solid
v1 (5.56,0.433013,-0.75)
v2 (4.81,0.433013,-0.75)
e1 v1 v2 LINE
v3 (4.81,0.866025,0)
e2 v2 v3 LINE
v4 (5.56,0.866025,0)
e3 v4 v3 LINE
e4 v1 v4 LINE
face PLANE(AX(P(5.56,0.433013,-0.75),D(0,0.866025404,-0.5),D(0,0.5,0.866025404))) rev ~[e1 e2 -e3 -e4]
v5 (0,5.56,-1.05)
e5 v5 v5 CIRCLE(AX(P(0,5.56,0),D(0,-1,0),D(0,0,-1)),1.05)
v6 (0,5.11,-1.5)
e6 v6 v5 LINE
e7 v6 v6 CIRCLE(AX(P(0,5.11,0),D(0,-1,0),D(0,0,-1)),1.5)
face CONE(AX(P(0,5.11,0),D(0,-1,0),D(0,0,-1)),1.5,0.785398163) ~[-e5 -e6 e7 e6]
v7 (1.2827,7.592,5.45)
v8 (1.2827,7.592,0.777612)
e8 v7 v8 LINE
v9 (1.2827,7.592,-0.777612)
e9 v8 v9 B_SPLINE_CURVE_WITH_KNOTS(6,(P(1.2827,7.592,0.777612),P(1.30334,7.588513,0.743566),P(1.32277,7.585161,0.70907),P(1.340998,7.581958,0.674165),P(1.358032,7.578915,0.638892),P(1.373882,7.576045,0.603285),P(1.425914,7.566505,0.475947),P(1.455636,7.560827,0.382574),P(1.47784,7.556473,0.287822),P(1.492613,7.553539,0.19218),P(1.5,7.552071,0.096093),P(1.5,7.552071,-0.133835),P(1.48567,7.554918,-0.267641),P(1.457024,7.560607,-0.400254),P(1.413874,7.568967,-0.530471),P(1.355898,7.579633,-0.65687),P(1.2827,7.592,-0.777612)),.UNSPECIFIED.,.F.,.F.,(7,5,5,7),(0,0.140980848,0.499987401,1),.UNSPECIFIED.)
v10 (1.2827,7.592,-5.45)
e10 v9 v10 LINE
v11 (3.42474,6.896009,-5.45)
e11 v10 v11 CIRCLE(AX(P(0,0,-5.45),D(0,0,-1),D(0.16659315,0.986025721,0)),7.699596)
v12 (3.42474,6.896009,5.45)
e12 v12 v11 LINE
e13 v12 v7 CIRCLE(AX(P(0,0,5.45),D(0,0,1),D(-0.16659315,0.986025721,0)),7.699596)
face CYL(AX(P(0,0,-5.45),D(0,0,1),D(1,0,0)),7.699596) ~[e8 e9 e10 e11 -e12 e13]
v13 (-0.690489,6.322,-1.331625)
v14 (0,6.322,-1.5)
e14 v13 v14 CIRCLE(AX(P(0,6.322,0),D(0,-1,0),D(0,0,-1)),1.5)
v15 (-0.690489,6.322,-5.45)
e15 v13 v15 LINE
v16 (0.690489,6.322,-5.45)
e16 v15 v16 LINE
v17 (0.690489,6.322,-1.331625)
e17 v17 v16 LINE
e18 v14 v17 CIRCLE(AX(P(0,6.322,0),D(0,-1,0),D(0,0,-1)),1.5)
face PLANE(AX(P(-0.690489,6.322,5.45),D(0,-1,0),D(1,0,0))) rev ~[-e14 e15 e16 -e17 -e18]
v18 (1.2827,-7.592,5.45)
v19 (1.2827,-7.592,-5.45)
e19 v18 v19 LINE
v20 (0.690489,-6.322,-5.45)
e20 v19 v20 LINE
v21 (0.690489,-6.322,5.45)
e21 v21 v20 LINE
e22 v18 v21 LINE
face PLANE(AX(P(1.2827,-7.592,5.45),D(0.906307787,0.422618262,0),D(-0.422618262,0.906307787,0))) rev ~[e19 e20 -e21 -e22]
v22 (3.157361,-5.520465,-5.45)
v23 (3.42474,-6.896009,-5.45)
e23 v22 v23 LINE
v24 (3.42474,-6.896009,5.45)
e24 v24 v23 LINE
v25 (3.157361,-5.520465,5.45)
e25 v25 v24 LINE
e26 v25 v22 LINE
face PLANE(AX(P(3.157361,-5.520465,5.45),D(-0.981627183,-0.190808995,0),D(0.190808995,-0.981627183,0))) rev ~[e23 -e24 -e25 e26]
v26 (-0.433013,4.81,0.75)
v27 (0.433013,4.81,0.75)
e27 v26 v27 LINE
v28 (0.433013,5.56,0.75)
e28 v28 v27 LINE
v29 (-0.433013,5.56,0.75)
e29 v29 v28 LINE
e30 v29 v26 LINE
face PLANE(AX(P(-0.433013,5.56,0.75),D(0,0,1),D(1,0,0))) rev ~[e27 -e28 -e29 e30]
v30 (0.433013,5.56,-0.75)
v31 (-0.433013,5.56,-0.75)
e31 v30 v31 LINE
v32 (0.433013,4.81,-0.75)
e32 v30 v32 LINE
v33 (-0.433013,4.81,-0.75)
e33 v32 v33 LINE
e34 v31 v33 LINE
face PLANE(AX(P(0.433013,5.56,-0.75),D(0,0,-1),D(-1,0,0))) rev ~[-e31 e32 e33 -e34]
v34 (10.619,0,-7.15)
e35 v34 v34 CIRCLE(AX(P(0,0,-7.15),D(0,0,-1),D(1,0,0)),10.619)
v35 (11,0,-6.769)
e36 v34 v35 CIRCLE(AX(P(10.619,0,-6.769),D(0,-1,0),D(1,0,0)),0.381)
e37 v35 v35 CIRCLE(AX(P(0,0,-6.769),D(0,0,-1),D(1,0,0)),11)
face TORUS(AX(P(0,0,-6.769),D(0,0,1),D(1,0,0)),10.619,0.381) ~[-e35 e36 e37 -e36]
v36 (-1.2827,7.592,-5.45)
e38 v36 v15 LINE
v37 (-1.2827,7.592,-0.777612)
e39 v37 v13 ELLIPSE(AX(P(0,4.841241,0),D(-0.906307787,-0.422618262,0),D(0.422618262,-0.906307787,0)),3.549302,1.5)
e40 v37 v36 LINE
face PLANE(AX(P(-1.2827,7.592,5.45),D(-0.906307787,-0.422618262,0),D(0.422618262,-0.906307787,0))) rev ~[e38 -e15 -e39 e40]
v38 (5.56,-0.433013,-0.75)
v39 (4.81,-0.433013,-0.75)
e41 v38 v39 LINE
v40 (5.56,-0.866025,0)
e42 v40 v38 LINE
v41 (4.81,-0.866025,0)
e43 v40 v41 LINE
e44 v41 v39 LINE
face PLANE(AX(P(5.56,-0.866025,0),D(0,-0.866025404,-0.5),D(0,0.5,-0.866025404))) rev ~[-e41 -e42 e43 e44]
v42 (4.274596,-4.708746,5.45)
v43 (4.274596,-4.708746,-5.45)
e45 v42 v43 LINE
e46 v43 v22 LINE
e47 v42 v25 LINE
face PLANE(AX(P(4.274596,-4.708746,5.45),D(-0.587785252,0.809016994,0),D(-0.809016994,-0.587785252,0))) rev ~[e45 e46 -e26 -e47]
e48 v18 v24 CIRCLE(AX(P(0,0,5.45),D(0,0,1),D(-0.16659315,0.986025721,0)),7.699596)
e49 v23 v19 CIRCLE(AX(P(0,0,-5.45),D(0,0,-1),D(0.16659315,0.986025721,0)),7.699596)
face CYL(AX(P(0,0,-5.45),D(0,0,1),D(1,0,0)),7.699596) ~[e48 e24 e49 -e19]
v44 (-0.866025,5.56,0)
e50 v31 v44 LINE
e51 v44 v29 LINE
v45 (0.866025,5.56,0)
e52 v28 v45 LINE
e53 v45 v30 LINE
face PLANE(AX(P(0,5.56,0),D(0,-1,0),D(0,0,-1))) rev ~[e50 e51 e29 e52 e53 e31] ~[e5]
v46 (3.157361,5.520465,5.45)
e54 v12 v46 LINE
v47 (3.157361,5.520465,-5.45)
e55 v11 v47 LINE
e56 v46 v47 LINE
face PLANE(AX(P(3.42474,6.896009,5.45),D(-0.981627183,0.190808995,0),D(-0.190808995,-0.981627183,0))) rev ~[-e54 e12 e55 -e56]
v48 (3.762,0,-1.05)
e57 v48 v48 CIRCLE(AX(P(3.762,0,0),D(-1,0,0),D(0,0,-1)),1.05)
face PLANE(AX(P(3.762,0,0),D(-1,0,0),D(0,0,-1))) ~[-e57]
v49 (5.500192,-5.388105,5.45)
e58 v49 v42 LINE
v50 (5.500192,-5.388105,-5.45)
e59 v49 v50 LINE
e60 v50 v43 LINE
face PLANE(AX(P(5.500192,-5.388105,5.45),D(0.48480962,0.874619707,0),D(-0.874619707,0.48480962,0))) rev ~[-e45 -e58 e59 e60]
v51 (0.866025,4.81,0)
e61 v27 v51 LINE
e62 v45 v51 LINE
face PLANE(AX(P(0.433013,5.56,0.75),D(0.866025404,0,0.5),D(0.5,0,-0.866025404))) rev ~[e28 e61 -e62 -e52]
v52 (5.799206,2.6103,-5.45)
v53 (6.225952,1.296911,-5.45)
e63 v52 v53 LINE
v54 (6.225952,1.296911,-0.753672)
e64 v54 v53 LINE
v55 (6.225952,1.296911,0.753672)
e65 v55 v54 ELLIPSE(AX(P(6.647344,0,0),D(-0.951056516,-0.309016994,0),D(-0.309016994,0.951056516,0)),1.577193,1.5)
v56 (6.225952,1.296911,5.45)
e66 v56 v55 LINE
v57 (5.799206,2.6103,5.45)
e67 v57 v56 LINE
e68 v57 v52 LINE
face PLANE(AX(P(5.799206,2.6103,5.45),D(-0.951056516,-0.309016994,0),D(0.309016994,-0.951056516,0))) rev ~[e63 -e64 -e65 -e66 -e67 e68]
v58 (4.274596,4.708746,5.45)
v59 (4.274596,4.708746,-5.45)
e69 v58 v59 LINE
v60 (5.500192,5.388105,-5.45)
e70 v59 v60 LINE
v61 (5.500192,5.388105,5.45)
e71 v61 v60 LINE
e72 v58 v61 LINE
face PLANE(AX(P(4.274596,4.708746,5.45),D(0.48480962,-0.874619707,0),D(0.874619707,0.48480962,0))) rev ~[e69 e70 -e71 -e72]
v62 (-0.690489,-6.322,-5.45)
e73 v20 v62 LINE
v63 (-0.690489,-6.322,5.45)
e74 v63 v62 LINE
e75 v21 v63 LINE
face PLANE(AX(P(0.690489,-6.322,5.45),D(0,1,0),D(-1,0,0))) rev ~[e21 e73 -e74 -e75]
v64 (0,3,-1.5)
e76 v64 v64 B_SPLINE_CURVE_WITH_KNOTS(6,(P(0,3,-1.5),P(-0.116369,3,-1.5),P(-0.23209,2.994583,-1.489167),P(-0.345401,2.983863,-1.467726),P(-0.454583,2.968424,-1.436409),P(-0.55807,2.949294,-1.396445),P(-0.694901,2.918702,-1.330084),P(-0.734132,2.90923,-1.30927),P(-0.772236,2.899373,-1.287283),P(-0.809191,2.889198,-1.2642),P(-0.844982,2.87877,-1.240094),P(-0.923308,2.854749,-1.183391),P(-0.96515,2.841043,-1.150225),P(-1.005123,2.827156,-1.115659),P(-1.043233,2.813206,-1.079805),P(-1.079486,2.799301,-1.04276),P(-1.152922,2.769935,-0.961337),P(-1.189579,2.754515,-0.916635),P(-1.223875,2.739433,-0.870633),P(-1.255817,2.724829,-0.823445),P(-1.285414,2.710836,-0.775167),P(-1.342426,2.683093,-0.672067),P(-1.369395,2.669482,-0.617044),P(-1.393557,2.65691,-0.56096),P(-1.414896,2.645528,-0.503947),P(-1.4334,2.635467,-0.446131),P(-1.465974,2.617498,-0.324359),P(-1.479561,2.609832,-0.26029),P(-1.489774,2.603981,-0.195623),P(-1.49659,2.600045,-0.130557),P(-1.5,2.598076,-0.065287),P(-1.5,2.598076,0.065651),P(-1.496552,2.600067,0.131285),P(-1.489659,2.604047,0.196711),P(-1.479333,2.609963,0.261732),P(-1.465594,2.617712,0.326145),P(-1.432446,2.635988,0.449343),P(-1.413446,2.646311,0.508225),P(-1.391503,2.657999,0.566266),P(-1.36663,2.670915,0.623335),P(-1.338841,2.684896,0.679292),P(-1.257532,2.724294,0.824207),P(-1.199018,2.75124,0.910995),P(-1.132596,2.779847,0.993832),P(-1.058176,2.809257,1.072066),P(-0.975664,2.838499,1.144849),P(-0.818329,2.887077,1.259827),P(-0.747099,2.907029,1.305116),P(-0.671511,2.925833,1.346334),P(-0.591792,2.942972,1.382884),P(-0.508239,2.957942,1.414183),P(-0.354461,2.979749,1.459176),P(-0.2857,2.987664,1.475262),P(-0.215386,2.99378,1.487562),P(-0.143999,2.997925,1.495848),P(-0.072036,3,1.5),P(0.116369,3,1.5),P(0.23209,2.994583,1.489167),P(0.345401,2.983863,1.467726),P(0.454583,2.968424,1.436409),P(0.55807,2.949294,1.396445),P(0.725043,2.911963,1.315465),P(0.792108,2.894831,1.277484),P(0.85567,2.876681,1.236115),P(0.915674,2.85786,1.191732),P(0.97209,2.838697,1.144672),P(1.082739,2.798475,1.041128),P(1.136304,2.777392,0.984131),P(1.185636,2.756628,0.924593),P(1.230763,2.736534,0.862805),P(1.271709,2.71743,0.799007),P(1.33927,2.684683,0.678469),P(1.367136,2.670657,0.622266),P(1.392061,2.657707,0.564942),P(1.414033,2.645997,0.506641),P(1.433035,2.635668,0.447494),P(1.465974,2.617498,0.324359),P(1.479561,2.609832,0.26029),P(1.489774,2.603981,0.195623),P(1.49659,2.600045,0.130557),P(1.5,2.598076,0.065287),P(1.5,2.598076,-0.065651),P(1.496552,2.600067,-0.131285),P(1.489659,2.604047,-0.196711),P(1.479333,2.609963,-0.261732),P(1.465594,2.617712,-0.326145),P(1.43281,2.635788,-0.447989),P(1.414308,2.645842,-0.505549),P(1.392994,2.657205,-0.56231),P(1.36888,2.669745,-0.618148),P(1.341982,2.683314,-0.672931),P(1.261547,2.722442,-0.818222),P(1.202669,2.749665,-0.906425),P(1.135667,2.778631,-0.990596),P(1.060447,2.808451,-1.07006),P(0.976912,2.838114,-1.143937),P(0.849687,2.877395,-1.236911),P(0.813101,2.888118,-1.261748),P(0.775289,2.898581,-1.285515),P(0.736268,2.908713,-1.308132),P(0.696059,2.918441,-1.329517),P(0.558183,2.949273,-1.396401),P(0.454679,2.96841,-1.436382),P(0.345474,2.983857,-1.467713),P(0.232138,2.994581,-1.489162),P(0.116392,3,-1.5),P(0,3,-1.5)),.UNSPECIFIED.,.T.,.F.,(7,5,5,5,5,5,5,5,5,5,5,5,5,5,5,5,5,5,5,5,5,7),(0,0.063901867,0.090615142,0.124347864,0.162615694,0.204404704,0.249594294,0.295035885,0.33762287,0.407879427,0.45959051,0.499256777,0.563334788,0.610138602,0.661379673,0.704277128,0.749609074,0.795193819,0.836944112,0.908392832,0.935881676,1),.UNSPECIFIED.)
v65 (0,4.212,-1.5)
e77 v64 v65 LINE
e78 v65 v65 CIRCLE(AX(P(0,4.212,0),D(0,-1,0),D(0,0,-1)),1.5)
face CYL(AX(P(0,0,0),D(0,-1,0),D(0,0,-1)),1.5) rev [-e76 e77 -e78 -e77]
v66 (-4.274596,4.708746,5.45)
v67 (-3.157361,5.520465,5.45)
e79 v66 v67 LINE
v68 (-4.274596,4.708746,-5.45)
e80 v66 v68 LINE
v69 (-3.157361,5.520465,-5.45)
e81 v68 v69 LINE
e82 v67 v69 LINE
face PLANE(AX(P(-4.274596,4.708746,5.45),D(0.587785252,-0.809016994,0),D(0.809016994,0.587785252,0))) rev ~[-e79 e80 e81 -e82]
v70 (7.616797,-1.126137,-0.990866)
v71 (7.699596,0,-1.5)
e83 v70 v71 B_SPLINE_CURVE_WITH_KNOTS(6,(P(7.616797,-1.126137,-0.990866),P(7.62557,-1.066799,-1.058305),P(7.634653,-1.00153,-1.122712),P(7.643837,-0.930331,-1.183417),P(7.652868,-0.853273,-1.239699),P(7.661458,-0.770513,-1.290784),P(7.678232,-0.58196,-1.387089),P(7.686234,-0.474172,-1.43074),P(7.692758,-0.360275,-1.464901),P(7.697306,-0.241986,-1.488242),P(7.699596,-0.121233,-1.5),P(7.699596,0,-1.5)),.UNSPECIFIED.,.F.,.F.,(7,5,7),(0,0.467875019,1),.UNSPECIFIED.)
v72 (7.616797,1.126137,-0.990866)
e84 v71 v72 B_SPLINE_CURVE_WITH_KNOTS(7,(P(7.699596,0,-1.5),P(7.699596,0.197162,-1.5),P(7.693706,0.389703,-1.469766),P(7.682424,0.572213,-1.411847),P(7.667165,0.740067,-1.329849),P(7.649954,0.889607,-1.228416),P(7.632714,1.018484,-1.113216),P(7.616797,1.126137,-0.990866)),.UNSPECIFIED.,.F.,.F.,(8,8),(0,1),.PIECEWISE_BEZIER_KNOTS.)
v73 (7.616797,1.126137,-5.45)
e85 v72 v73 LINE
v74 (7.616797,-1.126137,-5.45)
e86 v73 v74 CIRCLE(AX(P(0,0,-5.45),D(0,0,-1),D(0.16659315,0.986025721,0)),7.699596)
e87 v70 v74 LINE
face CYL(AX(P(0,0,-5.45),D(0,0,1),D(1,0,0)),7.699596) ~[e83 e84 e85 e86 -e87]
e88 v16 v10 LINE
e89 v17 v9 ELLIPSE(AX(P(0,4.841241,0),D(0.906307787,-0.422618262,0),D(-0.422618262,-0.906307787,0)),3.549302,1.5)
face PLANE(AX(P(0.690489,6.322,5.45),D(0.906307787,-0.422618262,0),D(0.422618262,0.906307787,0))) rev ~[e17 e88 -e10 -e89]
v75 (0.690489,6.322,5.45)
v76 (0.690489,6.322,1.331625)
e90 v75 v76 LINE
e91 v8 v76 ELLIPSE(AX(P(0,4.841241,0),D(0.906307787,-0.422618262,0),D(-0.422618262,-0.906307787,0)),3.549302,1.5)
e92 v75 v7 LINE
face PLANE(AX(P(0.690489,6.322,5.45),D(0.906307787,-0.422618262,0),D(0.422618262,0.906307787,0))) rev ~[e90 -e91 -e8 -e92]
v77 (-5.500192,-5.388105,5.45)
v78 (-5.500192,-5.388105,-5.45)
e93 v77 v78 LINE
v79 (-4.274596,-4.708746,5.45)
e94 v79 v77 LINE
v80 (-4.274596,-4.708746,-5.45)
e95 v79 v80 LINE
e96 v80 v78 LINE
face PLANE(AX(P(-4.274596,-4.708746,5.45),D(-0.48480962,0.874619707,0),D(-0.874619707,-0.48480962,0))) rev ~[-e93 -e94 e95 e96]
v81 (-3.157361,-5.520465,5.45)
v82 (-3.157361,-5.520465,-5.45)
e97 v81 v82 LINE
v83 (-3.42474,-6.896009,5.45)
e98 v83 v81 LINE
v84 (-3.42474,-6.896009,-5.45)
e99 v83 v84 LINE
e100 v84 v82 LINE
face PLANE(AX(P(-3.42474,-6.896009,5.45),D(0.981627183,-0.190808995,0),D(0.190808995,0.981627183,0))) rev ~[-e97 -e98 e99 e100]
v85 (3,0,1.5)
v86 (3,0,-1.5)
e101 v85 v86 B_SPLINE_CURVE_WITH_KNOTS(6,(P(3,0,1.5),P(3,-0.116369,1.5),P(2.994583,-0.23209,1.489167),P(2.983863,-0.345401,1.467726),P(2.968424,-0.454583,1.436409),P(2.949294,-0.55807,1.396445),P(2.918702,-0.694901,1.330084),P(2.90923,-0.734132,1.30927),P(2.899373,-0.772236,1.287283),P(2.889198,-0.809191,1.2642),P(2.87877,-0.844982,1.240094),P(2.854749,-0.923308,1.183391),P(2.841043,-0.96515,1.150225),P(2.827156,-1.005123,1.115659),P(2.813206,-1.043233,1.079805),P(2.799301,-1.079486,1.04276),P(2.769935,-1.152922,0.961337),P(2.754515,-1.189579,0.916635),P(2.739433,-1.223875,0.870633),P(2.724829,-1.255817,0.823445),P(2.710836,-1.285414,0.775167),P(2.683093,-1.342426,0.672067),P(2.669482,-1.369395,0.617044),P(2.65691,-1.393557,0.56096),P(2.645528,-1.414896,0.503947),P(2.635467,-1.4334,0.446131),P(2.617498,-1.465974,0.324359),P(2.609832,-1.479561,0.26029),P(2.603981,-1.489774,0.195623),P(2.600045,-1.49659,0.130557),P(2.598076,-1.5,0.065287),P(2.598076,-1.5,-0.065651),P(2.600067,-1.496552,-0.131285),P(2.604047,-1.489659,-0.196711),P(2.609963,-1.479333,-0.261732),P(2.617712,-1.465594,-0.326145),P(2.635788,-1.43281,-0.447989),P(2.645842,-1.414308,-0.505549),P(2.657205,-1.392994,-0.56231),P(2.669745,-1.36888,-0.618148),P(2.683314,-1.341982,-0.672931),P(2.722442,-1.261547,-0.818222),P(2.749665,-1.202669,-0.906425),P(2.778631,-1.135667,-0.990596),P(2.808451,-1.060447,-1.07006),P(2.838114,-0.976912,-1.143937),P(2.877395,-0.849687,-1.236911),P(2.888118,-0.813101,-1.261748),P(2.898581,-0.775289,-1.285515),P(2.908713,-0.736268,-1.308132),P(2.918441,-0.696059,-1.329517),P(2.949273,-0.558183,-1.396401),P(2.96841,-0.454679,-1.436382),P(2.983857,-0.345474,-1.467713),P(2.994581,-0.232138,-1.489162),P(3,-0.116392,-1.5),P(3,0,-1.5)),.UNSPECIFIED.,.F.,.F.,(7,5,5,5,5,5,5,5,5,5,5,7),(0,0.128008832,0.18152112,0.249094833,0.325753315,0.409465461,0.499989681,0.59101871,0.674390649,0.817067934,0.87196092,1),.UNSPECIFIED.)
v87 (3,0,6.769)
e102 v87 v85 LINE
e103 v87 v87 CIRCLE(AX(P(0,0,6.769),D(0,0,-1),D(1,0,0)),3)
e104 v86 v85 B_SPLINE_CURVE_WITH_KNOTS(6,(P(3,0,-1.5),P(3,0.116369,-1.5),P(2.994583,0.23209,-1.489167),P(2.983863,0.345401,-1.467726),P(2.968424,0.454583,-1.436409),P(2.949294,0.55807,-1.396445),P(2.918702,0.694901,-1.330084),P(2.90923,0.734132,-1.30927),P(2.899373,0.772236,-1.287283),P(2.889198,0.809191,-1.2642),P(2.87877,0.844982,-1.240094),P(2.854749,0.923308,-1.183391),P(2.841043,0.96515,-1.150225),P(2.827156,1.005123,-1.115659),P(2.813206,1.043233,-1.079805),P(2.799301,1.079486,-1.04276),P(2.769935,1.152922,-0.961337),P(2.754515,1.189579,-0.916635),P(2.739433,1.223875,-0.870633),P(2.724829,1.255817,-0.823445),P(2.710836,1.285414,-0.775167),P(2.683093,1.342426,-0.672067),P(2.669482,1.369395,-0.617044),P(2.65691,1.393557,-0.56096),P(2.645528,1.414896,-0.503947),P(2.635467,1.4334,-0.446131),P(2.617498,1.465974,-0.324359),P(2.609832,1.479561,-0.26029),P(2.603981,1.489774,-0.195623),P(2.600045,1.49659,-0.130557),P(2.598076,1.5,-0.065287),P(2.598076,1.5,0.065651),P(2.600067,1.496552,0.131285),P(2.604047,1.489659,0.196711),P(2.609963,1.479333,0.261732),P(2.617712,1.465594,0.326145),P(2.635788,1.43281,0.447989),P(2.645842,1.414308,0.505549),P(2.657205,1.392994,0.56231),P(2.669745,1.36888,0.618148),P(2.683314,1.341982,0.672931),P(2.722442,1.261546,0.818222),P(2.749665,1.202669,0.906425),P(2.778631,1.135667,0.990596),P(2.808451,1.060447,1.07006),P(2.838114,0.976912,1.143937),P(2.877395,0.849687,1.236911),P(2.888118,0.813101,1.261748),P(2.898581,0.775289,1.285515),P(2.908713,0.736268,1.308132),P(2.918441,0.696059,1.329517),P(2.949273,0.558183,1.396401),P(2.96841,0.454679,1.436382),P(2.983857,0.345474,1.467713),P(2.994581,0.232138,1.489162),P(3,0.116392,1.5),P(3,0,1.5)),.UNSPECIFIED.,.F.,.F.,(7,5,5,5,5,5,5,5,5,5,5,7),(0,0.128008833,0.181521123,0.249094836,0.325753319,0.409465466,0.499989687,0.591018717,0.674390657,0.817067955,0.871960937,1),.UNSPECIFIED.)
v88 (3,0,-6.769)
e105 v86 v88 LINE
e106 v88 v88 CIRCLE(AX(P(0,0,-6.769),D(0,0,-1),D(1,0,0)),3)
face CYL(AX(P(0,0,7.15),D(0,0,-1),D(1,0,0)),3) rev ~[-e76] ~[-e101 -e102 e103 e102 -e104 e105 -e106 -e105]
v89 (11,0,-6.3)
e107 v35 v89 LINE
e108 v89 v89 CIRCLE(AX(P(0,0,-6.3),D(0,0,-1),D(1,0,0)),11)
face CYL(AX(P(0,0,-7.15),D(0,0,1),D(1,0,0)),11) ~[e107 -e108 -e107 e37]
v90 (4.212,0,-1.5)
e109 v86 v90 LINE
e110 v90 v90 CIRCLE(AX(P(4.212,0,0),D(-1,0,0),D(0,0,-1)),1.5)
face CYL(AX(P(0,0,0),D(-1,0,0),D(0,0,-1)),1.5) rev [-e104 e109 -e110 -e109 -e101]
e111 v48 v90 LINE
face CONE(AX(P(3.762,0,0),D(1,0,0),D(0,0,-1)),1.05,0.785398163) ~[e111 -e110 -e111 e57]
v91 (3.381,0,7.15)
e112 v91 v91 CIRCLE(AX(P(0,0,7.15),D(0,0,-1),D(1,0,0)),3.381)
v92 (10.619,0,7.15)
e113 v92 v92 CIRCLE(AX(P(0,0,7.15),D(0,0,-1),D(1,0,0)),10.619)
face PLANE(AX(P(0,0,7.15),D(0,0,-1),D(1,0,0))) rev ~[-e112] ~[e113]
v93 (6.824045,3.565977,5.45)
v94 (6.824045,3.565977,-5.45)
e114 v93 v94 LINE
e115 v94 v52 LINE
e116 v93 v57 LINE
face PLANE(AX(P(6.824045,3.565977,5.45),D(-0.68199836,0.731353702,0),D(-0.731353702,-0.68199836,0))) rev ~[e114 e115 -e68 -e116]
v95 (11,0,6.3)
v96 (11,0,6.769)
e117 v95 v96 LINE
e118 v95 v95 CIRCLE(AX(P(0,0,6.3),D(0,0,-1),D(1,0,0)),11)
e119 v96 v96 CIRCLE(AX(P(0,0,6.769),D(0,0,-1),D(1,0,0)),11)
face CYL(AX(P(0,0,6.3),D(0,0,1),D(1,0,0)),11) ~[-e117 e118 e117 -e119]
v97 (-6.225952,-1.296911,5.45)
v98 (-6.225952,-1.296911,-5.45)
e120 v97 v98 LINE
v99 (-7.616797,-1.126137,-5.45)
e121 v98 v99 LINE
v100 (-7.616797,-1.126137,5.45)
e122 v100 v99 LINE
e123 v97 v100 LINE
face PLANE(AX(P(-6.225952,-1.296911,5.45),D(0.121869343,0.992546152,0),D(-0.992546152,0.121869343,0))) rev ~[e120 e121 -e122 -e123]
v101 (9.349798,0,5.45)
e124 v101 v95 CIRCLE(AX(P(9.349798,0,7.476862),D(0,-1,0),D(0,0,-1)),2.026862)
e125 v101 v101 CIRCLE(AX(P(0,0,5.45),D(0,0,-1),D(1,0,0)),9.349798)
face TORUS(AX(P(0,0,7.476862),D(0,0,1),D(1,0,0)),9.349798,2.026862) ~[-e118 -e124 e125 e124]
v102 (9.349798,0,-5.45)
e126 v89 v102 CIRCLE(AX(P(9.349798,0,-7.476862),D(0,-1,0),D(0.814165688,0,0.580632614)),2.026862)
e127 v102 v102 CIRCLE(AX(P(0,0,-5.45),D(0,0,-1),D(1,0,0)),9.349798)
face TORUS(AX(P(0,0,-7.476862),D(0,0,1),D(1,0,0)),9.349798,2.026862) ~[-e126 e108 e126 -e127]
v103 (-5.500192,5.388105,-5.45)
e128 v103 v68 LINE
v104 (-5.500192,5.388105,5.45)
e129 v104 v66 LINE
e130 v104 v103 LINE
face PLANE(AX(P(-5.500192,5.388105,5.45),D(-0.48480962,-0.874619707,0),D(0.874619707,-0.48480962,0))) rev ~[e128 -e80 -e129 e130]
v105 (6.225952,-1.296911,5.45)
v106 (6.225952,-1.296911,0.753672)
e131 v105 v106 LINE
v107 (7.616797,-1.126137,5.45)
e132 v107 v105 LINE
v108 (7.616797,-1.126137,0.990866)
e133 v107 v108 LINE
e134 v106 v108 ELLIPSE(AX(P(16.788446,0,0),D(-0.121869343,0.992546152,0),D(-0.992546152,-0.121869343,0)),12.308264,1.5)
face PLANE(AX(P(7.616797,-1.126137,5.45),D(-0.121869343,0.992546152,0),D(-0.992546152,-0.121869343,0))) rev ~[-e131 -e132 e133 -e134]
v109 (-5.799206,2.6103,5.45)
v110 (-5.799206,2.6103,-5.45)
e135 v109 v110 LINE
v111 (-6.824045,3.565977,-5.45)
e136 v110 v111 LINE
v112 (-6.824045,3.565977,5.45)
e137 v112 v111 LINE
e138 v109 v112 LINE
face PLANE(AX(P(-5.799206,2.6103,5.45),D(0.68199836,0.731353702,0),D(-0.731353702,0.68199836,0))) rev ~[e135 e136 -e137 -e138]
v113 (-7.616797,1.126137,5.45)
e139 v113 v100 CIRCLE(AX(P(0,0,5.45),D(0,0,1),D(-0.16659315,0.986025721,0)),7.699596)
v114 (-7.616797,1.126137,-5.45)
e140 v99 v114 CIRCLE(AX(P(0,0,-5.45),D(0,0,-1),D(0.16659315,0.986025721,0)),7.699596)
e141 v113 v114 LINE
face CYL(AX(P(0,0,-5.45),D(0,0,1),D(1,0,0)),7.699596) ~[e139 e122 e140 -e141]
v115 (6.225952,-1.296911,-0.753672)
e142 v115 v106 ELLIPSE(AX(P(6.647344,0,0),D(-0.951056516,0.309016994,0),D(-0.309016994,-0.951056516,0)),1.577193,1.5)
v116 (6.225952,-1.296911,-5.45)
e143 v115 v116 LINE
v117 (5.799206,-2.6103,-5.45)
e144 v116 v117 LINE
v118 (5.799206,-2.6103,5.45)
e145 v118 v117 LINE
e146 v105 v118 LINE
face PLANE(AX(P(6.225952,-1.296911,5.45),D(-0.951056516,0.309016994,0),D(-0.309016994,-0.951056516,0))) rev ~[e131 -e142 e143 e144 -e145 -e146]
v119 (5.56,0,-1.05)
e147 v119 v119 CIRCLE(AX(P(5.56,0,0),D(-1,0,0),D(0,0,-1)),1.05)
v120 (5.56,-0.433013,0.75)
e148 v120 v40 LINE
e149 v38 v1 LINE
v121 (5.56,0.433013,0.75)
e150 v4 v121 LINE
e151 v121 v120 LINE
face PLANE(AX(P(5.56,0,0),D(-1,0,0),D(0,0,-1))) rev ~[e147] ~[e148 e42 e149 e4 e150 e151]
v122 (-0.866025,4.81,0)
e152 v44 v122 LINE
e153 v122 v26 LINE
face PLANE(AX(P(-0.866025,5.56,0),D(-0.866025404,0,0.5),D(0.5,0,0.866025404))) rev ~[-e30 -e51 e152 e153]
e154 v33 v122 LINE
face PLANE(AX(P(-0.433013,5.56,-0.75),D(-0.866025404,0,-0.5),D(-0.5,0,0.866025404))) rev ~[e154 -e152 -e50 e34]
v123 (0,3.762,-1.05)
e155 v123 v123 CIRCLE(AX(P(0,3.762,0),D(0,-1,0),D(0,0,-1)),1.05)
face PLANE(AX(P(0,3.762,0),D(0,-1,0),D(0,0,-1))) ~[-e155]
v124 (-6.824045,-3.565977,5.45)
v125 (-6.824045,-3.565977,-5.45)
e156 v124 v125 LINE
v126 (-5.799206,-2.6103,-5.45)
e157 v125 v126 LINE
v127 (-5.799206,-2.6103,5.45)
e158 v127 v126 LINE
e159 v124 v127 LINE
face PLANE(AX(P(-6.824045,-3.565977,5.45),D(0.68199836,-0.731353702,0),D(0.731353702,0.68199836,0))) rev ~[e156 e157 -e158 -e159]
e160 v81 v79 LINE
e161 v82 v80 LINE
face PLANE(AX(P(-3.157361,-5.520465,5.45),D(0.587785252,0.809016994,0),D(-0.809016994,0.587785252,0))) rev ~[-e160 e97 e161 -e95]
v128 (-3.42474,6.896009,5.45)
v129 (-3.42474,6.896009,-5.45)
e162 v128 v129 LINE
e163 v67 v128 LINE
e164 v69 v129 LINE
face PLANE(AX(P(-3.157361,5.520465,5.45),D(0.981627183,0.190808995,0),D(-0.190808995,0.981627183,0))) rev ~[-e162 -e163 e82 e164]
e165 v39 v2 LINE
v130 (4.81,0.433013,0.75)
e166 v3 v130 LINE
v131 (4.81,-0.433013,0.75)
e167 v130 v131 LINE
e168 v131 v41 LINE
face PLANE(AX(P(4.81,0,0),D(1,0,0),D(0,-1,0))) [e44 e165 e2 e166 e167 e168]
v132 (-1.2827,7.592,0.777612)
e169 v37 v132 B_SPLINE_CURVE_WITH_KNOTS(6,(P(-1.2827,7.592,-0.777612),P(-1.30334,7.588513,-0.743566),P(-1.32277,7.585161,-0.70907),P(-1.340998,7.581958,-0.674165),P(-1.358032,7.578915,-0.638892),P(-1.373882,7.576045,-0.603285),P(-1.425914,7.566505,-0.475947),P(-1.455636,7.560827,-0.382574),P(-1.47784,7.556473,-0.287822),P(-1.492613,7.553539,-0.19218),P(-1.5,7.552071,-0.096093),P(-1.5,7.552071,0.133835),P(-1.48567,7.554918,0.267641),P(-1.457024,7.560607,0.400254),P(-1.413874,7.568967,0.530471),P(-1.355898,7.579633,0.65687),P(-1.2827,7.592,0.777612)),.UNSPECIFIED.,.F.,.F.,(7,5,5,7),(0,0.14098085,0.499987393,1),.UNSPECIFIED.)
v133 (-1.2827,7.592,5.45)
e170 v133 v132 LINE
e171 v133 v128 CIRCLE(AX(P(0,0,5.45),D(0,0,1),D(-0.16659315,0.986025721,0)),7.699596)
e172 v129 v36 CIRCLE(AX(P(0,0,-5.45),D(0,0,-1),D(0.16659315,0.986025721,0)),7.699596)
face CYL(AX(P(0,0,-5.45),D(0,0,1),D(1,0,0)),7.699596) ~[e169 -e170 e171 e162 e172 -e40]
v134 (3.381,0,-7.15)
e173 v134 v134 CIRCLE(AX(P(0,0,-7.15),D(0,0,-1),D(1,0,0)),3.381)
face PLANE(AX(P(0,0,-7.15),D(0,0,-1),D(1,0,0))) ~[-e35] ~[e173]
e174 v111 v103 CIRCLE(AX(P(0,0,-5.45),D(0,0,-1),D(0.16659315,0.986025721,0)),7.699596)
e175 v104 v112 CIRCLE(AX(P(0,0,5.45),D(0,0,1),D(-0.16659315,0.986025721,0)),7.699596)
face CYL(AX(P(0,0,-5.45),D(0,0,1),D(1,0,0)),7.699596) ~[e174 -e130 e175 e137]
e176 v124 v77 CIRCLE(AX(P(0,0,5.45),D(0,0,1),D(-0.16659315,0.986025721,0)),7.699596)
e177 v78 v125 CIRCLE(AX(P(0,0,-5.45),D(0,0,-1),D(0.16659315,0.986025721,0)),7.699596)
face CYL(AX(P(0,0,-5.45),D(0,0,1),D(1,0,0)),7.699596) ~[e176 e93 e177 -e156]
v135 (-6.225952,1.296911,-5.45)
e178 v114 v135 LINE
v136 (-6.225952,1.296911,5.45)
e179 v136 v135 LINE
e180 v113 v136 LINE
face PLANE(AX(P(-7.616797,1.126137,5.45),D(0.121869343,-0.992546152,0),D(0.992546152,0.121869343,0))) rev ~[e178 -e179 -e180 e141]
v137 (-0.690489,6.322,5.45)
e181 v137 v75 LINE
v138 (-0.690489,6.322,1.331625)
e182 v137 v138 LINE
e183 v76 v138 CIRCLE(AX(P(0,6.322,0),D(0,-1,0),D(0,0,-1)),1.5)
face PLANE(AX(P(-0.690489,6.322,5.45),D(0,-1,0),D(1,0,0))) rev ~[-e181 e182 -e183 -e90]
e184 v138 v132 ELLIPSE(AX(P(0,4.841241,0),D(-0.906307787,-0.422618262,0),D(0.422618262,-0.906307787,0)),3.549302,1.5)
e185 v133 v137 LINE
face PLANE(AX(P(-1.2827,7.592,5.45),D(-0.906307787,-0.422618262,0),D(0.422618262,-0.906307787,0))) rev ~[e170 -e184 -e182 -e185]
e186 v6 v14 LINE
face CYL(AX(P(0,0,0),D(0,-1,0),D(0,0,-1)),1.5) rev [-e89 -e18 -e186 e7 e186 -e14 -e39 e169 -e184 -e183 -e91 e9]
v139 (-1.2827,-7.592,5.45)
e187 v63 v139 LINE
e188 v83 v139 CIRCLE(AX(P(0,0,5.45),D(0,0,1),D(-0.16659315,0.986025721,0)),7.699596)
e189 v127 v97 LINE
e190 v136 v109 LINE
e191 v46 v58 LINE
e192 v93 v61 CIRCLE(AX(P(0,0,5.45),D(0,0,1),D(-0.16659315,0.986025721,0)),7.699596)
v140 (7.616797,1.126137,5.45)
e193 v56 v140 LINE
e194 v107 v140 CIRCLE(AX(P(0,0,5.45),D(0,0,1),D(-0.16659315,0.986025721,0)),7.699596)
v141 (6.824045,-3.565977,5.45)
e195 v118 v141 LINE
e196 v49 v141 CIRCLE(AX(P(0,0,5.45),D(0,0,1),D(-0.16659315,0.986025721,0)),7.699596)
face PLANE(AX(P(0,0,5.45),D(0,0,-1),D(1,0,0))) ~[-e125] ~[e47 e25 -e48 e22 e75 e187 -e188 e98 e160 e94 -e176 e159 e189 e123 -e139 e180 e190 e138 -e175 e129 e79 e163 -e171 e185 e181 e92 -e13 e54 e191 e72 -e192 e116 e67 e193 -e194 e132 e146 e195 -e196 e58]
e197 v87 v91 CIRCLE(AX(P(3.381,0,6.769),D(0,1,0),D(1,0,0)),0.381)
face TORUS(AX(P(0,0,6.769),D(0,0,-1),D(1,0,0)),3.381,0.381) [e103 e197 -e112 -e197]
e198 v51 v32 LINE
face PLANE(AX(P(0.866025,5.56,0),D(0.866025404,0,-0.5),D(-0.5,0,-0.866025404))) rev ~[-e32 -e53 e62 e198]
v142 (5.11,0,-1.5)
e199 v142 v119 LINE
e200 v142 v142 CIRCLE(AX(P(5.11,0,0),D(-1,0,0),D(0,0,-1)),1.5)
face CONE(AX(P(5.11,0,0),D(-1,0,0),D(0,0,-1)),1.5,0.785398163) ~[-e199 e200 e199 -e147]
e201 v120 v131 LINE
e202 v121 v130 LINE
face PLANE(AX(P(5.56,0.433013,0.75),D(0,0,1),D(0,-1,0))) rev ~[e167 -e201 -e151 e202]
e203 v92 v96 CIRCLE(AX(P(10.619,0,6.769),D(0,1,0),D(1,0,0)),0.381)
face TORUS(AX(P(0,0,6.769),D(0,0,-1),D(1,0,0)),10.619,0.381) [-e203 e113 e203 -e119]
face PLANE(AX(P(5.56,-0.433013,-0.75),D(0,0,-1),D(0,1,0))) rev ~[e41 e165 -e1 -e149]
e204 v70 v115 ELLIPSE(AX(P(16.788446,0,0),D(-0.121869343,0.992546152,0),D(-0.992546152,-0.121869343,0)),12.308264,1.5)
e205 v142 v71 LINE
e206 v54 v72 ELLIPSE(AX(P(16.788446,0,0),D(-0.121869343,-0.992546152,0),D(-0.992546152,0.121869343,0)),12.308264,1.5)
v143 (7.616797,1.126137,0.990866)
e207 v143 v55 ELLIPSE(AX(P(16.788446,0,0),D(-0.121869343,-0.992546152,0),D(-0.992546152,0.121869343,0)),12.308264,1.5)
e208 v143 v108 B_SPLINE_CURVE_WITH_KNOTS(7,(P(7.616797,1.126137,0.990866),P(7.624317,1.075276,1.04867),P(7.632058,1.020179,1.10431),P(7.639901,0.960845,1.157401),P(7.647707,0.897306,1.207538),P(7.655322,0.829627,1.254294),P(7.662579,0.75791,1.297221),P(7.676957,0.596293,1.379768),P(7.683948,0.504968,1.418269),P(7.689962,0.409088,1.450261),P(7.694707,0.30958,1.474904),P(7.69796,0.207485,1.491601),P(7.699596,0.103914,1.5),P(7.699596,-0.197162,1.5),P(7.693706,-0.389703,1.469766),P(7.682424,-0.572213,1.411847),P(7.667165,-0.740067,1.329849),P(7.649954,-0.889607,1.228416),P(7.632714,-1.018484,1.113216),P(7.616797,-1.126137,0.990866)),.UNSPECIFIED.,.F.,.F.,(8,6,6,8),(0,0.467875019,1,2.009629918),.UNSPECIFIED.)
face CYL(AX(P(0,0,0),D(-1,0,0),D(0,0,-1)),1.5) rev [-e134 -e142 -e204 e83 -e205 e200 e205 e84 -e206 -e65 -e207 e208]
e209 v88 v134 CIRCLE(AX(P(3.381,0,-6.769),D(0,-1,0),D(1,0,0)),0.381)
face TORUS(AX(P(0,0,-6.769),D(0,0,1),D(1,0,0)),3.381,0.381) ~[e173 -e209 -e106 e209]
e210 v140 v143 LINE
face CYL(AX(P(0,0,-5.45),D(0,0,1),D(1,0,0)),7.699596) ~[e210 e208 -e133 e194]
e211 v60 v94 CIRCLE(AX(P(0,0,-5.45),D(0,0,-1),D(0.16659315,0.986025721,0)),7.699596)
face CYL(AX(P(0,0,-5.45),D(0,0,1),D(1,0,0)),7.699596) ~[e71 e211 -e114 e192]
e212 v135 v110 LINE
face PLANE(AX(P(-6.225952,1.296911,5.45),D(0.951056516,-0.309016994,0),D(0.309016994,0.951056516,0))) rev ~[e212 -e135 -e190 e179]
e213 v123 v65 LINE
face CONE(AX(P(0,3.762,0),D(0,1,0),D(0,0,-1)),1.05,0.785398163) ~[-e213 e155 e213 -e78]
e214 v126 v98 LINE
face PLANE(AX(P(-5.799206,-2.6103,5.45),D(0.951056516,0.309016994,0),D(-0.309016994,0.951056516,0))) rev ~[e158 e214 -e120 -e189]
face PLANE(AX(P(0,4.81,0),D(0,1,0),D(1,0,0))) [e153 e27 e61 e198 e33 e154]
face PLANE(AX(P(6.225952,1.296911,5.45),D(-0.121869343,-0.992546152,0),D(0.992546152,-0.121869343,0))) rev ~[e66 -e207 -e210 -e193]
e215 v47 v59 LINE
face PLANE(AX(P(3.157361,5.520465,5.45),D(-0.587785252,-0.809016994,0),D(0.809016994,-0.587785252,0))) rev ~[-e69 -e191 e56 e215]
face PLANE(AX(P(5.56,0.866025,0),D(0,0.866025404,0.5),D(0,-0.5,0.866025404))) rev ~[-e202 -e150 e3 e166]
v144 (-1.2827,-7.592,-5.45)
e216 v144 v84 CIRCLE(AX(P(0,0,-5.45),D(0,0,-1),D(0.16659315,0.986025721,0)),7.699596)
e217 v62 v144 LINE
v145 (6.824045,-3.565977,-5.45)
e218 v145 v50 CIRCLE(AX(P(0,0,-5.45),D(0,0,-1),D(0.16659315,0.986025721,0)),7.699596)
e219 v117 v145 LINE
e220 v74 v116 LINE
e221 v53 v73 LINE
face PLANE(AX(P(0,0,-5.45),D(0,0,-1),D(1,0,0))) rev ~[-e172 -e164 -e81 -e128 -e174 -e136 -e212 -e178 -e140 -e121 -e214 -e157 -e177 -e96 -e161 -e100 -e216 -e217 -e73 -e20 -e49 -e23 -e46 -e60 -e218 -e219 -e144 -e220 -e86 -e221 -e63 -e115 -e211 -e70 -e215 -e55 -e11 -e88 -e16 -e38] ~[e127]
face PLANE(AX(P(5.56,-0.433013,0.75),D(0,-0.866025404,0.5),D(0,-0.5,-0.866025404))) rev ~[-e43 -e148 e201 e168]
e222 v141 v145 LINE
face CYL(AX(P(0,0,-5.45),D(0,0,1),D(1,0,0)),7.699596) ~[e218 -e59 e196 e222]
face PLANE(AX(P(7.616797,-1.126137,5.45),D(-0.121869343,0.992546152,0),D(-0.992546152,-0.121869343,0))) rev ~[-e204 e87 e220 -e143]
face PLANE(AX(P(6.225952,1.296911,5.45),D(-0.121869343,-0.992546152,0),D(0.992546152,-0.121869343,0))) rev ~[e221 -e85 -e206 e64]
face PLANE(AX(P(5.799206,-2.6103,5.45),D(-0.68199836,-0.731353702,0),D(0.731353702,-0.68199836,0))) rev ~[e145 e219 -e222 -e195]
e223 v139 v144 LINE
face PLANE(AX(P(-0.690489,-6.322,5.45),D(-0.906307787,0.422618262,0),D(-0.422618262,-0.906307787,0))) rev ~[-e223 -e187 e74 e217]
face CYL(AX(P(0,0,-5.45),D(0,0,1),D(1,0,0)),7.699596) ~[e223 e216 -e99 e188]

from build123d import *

# Parameters (mm, degrees)
CUT_EXTRUDE1_START = 5.45
CUT_EXTRUDE1_DEPTH = 10.9
CIRPATTERN1_COUNT  = 10
FILLET1_R          = 0.381
SKETCH5_R          = 1.5
CUT_EXTRUDE2_DEPTH = 18.120820722
CUT_EXTRUDE3_DEPTH = 0.75
CIRPATTERN2_COUNT  = 2
CIRPATTERN2_ANGLE  = 270


with BuildPart() as part:
    # Sketch2 → Revolve1 (revolve)
    with BuildSketch(Plane(origin=(0, 0, 0), x_dir=(0, 0, -1), z_dir=(1, 0, 0)), mode=Mode.PRIVATE) as revolve1_sk:
        with BuildLine():
            Line((-7.15, 3), (7.15, 3))
            Line((7.15, 3), (7.15, 11))
            Line((7.15, 11), (6.3, 11))
            ThreePointArc((6.3, 11), (5.67498708, 10.277923433), (5.45, 9.349798153))
            Line((5.45, 9.349798153), (5.45, 7.699596307))
            Line((5.45, 7.699596307), (-5.45, 7.699596307))
            Line((-5.45, 7.699596307), (-5.45, 9.349798153))
            ThreePointArc((-5.45, 9.349798153), (-5.67498708, 10.277923433), (-6.3, 11))
            Line((-6.3, 11), (-7.15, 11))
            Line((-7.15, 11), (-7.15, 3))
        make_face()
    revolve(revolve1_sk.sketch.rotate(Axis((0, 0, 7.15), (0, 0, -1)), 90), axis=Axis((0, 0, 7.15), (0, 0, -1)))

    # Sketch3 → Cut-Extrude1 (cut)
    with BuildSketch(Plane.XY.offset(CUT_EXTRUDE1_START)):
        with BuildLine():
            Line((-0.690489274, 6.322), (0.690489274, 6.322))
            Line((0.690489274, 6.322), (1.2827, 7.592))
            ThreePointArc((1.2827, 7.592), (0, 7.699596307), (-1.2827, 7.592))
            Line((-1.2827, 7.592), (-0.690489274, 6.322))
        make_face()
    cut_extrude1 = extrude(amount=-CUT_EXTRUDE1_DEPTH, mode=Mode.SUBTRACT)

    # CirPattern1: Cut-Extrude1 ×10 about axis
    cirpattern1_axis = Axis((0, 0, 0), (0, 0, 1))
    for i in range(1, CIRPATTERN1_COUNT):
        add(cut_extrude1.rotate(cirpattern1_axis, i * 360 / CIRPATTERN1_COUNT), mode=Mode.SUBTRACT)

    # Fillet1
    fillet1_edges = [part.edges().sort_by_distance(p)[0] for p in [
        (-11, 0, -7.15),
        (-3, 0, -7.15),
        (-3, 0, 7.15),
        (-11, 0, 7.15),
    ]]
    fillet(fillet1_edges, radius=FILLET1_R)

    # Sketch5 → Cut-Extrude2 (cut, through all)
    with BuildSketch(Plane(origin=(0, 0, 0), x_dir=(1, 0, 0), z_dir=(0, 1, 0))):
        with Locations(Location((0, 0, 0), (0, 0, 90))):
            Circle(SKETCH5_R)
    cut_extrude2 = extrude(amount=CUT_EXTRUDE2_DEPTH, mode=Mode.SUBTRACT)

    # Sketch6 → Revolve2 (revolve)
    with BuildSketch(Plane(origin=(0, 0, 0), x_dir=(0, 0, -1), z_dir=(1, 0, 0)), mode=Mode.PRIVATE) as revolve2_sk:
        Polygon((0, 5.56), (0, 3.762), (-1.05, 3.762), (-1.5, 4.212), (-1.5, 5.11), (-1.05, 5.56), align=None)
    revolve2 = revolve(revolve2_sk.sketch.rotate(Axis((0, 5.56, 0), (0, -1, 0)), 180), axis=Axis((0, 5.56, 0), (0, -1, 0)))

    # Sketch7 → Cut-Extrude3 (cut)
    with BuildSketch(Plane(origin=(0, 5.56, 0), x_dir=(1, 0, 0), z_dir=(0, 1, 0))):
        Polygon((0.866025404, 0), (0.433012702, 0.75), (-0.433012702, 0.75), (-0.866025404, 0), (-0.433012702, -0.75), (0.433012702, -0.75), align=None)
    cut_extrude3 = extrude(amount=-CUT_EXTRUDE3_DEPTH, mode=Mode.SUBTRACT)

    # CirPattern2: Cut-Extrude2, Revolve2, Cut-Extrude3 ×2 about axis
    cirpattern2_axis = Axis((0, 0, 0), (0, 0, 1))
    add([cut_extrude2.rotate(cirpattern2_axis, i * CIRPATTERN2_ANGLE / (CIRPATTERN2_COUNT - 1)) for i in range(1, CIRPATTERN2_COUNT)], mode=Mode.SUBTRACT)
    add([revolve2.rotate(cirpattern2_axis, i * CIRPATTERN2_ANGLE / (CIRPATTERN2_COUNT - 1)) for i in range(1, CIRPATTERN2_COUNT)])
    add([cut_extrude3.rotate(cirpattern2_axis, i * CIRPATTERN2_ANGLE / (CIRPATTERN2_COUNT - 1)) for i in range(1, CIRPATTERN2_COUNT)], mode=Mode.SUBTRACT)


solid = part.part
